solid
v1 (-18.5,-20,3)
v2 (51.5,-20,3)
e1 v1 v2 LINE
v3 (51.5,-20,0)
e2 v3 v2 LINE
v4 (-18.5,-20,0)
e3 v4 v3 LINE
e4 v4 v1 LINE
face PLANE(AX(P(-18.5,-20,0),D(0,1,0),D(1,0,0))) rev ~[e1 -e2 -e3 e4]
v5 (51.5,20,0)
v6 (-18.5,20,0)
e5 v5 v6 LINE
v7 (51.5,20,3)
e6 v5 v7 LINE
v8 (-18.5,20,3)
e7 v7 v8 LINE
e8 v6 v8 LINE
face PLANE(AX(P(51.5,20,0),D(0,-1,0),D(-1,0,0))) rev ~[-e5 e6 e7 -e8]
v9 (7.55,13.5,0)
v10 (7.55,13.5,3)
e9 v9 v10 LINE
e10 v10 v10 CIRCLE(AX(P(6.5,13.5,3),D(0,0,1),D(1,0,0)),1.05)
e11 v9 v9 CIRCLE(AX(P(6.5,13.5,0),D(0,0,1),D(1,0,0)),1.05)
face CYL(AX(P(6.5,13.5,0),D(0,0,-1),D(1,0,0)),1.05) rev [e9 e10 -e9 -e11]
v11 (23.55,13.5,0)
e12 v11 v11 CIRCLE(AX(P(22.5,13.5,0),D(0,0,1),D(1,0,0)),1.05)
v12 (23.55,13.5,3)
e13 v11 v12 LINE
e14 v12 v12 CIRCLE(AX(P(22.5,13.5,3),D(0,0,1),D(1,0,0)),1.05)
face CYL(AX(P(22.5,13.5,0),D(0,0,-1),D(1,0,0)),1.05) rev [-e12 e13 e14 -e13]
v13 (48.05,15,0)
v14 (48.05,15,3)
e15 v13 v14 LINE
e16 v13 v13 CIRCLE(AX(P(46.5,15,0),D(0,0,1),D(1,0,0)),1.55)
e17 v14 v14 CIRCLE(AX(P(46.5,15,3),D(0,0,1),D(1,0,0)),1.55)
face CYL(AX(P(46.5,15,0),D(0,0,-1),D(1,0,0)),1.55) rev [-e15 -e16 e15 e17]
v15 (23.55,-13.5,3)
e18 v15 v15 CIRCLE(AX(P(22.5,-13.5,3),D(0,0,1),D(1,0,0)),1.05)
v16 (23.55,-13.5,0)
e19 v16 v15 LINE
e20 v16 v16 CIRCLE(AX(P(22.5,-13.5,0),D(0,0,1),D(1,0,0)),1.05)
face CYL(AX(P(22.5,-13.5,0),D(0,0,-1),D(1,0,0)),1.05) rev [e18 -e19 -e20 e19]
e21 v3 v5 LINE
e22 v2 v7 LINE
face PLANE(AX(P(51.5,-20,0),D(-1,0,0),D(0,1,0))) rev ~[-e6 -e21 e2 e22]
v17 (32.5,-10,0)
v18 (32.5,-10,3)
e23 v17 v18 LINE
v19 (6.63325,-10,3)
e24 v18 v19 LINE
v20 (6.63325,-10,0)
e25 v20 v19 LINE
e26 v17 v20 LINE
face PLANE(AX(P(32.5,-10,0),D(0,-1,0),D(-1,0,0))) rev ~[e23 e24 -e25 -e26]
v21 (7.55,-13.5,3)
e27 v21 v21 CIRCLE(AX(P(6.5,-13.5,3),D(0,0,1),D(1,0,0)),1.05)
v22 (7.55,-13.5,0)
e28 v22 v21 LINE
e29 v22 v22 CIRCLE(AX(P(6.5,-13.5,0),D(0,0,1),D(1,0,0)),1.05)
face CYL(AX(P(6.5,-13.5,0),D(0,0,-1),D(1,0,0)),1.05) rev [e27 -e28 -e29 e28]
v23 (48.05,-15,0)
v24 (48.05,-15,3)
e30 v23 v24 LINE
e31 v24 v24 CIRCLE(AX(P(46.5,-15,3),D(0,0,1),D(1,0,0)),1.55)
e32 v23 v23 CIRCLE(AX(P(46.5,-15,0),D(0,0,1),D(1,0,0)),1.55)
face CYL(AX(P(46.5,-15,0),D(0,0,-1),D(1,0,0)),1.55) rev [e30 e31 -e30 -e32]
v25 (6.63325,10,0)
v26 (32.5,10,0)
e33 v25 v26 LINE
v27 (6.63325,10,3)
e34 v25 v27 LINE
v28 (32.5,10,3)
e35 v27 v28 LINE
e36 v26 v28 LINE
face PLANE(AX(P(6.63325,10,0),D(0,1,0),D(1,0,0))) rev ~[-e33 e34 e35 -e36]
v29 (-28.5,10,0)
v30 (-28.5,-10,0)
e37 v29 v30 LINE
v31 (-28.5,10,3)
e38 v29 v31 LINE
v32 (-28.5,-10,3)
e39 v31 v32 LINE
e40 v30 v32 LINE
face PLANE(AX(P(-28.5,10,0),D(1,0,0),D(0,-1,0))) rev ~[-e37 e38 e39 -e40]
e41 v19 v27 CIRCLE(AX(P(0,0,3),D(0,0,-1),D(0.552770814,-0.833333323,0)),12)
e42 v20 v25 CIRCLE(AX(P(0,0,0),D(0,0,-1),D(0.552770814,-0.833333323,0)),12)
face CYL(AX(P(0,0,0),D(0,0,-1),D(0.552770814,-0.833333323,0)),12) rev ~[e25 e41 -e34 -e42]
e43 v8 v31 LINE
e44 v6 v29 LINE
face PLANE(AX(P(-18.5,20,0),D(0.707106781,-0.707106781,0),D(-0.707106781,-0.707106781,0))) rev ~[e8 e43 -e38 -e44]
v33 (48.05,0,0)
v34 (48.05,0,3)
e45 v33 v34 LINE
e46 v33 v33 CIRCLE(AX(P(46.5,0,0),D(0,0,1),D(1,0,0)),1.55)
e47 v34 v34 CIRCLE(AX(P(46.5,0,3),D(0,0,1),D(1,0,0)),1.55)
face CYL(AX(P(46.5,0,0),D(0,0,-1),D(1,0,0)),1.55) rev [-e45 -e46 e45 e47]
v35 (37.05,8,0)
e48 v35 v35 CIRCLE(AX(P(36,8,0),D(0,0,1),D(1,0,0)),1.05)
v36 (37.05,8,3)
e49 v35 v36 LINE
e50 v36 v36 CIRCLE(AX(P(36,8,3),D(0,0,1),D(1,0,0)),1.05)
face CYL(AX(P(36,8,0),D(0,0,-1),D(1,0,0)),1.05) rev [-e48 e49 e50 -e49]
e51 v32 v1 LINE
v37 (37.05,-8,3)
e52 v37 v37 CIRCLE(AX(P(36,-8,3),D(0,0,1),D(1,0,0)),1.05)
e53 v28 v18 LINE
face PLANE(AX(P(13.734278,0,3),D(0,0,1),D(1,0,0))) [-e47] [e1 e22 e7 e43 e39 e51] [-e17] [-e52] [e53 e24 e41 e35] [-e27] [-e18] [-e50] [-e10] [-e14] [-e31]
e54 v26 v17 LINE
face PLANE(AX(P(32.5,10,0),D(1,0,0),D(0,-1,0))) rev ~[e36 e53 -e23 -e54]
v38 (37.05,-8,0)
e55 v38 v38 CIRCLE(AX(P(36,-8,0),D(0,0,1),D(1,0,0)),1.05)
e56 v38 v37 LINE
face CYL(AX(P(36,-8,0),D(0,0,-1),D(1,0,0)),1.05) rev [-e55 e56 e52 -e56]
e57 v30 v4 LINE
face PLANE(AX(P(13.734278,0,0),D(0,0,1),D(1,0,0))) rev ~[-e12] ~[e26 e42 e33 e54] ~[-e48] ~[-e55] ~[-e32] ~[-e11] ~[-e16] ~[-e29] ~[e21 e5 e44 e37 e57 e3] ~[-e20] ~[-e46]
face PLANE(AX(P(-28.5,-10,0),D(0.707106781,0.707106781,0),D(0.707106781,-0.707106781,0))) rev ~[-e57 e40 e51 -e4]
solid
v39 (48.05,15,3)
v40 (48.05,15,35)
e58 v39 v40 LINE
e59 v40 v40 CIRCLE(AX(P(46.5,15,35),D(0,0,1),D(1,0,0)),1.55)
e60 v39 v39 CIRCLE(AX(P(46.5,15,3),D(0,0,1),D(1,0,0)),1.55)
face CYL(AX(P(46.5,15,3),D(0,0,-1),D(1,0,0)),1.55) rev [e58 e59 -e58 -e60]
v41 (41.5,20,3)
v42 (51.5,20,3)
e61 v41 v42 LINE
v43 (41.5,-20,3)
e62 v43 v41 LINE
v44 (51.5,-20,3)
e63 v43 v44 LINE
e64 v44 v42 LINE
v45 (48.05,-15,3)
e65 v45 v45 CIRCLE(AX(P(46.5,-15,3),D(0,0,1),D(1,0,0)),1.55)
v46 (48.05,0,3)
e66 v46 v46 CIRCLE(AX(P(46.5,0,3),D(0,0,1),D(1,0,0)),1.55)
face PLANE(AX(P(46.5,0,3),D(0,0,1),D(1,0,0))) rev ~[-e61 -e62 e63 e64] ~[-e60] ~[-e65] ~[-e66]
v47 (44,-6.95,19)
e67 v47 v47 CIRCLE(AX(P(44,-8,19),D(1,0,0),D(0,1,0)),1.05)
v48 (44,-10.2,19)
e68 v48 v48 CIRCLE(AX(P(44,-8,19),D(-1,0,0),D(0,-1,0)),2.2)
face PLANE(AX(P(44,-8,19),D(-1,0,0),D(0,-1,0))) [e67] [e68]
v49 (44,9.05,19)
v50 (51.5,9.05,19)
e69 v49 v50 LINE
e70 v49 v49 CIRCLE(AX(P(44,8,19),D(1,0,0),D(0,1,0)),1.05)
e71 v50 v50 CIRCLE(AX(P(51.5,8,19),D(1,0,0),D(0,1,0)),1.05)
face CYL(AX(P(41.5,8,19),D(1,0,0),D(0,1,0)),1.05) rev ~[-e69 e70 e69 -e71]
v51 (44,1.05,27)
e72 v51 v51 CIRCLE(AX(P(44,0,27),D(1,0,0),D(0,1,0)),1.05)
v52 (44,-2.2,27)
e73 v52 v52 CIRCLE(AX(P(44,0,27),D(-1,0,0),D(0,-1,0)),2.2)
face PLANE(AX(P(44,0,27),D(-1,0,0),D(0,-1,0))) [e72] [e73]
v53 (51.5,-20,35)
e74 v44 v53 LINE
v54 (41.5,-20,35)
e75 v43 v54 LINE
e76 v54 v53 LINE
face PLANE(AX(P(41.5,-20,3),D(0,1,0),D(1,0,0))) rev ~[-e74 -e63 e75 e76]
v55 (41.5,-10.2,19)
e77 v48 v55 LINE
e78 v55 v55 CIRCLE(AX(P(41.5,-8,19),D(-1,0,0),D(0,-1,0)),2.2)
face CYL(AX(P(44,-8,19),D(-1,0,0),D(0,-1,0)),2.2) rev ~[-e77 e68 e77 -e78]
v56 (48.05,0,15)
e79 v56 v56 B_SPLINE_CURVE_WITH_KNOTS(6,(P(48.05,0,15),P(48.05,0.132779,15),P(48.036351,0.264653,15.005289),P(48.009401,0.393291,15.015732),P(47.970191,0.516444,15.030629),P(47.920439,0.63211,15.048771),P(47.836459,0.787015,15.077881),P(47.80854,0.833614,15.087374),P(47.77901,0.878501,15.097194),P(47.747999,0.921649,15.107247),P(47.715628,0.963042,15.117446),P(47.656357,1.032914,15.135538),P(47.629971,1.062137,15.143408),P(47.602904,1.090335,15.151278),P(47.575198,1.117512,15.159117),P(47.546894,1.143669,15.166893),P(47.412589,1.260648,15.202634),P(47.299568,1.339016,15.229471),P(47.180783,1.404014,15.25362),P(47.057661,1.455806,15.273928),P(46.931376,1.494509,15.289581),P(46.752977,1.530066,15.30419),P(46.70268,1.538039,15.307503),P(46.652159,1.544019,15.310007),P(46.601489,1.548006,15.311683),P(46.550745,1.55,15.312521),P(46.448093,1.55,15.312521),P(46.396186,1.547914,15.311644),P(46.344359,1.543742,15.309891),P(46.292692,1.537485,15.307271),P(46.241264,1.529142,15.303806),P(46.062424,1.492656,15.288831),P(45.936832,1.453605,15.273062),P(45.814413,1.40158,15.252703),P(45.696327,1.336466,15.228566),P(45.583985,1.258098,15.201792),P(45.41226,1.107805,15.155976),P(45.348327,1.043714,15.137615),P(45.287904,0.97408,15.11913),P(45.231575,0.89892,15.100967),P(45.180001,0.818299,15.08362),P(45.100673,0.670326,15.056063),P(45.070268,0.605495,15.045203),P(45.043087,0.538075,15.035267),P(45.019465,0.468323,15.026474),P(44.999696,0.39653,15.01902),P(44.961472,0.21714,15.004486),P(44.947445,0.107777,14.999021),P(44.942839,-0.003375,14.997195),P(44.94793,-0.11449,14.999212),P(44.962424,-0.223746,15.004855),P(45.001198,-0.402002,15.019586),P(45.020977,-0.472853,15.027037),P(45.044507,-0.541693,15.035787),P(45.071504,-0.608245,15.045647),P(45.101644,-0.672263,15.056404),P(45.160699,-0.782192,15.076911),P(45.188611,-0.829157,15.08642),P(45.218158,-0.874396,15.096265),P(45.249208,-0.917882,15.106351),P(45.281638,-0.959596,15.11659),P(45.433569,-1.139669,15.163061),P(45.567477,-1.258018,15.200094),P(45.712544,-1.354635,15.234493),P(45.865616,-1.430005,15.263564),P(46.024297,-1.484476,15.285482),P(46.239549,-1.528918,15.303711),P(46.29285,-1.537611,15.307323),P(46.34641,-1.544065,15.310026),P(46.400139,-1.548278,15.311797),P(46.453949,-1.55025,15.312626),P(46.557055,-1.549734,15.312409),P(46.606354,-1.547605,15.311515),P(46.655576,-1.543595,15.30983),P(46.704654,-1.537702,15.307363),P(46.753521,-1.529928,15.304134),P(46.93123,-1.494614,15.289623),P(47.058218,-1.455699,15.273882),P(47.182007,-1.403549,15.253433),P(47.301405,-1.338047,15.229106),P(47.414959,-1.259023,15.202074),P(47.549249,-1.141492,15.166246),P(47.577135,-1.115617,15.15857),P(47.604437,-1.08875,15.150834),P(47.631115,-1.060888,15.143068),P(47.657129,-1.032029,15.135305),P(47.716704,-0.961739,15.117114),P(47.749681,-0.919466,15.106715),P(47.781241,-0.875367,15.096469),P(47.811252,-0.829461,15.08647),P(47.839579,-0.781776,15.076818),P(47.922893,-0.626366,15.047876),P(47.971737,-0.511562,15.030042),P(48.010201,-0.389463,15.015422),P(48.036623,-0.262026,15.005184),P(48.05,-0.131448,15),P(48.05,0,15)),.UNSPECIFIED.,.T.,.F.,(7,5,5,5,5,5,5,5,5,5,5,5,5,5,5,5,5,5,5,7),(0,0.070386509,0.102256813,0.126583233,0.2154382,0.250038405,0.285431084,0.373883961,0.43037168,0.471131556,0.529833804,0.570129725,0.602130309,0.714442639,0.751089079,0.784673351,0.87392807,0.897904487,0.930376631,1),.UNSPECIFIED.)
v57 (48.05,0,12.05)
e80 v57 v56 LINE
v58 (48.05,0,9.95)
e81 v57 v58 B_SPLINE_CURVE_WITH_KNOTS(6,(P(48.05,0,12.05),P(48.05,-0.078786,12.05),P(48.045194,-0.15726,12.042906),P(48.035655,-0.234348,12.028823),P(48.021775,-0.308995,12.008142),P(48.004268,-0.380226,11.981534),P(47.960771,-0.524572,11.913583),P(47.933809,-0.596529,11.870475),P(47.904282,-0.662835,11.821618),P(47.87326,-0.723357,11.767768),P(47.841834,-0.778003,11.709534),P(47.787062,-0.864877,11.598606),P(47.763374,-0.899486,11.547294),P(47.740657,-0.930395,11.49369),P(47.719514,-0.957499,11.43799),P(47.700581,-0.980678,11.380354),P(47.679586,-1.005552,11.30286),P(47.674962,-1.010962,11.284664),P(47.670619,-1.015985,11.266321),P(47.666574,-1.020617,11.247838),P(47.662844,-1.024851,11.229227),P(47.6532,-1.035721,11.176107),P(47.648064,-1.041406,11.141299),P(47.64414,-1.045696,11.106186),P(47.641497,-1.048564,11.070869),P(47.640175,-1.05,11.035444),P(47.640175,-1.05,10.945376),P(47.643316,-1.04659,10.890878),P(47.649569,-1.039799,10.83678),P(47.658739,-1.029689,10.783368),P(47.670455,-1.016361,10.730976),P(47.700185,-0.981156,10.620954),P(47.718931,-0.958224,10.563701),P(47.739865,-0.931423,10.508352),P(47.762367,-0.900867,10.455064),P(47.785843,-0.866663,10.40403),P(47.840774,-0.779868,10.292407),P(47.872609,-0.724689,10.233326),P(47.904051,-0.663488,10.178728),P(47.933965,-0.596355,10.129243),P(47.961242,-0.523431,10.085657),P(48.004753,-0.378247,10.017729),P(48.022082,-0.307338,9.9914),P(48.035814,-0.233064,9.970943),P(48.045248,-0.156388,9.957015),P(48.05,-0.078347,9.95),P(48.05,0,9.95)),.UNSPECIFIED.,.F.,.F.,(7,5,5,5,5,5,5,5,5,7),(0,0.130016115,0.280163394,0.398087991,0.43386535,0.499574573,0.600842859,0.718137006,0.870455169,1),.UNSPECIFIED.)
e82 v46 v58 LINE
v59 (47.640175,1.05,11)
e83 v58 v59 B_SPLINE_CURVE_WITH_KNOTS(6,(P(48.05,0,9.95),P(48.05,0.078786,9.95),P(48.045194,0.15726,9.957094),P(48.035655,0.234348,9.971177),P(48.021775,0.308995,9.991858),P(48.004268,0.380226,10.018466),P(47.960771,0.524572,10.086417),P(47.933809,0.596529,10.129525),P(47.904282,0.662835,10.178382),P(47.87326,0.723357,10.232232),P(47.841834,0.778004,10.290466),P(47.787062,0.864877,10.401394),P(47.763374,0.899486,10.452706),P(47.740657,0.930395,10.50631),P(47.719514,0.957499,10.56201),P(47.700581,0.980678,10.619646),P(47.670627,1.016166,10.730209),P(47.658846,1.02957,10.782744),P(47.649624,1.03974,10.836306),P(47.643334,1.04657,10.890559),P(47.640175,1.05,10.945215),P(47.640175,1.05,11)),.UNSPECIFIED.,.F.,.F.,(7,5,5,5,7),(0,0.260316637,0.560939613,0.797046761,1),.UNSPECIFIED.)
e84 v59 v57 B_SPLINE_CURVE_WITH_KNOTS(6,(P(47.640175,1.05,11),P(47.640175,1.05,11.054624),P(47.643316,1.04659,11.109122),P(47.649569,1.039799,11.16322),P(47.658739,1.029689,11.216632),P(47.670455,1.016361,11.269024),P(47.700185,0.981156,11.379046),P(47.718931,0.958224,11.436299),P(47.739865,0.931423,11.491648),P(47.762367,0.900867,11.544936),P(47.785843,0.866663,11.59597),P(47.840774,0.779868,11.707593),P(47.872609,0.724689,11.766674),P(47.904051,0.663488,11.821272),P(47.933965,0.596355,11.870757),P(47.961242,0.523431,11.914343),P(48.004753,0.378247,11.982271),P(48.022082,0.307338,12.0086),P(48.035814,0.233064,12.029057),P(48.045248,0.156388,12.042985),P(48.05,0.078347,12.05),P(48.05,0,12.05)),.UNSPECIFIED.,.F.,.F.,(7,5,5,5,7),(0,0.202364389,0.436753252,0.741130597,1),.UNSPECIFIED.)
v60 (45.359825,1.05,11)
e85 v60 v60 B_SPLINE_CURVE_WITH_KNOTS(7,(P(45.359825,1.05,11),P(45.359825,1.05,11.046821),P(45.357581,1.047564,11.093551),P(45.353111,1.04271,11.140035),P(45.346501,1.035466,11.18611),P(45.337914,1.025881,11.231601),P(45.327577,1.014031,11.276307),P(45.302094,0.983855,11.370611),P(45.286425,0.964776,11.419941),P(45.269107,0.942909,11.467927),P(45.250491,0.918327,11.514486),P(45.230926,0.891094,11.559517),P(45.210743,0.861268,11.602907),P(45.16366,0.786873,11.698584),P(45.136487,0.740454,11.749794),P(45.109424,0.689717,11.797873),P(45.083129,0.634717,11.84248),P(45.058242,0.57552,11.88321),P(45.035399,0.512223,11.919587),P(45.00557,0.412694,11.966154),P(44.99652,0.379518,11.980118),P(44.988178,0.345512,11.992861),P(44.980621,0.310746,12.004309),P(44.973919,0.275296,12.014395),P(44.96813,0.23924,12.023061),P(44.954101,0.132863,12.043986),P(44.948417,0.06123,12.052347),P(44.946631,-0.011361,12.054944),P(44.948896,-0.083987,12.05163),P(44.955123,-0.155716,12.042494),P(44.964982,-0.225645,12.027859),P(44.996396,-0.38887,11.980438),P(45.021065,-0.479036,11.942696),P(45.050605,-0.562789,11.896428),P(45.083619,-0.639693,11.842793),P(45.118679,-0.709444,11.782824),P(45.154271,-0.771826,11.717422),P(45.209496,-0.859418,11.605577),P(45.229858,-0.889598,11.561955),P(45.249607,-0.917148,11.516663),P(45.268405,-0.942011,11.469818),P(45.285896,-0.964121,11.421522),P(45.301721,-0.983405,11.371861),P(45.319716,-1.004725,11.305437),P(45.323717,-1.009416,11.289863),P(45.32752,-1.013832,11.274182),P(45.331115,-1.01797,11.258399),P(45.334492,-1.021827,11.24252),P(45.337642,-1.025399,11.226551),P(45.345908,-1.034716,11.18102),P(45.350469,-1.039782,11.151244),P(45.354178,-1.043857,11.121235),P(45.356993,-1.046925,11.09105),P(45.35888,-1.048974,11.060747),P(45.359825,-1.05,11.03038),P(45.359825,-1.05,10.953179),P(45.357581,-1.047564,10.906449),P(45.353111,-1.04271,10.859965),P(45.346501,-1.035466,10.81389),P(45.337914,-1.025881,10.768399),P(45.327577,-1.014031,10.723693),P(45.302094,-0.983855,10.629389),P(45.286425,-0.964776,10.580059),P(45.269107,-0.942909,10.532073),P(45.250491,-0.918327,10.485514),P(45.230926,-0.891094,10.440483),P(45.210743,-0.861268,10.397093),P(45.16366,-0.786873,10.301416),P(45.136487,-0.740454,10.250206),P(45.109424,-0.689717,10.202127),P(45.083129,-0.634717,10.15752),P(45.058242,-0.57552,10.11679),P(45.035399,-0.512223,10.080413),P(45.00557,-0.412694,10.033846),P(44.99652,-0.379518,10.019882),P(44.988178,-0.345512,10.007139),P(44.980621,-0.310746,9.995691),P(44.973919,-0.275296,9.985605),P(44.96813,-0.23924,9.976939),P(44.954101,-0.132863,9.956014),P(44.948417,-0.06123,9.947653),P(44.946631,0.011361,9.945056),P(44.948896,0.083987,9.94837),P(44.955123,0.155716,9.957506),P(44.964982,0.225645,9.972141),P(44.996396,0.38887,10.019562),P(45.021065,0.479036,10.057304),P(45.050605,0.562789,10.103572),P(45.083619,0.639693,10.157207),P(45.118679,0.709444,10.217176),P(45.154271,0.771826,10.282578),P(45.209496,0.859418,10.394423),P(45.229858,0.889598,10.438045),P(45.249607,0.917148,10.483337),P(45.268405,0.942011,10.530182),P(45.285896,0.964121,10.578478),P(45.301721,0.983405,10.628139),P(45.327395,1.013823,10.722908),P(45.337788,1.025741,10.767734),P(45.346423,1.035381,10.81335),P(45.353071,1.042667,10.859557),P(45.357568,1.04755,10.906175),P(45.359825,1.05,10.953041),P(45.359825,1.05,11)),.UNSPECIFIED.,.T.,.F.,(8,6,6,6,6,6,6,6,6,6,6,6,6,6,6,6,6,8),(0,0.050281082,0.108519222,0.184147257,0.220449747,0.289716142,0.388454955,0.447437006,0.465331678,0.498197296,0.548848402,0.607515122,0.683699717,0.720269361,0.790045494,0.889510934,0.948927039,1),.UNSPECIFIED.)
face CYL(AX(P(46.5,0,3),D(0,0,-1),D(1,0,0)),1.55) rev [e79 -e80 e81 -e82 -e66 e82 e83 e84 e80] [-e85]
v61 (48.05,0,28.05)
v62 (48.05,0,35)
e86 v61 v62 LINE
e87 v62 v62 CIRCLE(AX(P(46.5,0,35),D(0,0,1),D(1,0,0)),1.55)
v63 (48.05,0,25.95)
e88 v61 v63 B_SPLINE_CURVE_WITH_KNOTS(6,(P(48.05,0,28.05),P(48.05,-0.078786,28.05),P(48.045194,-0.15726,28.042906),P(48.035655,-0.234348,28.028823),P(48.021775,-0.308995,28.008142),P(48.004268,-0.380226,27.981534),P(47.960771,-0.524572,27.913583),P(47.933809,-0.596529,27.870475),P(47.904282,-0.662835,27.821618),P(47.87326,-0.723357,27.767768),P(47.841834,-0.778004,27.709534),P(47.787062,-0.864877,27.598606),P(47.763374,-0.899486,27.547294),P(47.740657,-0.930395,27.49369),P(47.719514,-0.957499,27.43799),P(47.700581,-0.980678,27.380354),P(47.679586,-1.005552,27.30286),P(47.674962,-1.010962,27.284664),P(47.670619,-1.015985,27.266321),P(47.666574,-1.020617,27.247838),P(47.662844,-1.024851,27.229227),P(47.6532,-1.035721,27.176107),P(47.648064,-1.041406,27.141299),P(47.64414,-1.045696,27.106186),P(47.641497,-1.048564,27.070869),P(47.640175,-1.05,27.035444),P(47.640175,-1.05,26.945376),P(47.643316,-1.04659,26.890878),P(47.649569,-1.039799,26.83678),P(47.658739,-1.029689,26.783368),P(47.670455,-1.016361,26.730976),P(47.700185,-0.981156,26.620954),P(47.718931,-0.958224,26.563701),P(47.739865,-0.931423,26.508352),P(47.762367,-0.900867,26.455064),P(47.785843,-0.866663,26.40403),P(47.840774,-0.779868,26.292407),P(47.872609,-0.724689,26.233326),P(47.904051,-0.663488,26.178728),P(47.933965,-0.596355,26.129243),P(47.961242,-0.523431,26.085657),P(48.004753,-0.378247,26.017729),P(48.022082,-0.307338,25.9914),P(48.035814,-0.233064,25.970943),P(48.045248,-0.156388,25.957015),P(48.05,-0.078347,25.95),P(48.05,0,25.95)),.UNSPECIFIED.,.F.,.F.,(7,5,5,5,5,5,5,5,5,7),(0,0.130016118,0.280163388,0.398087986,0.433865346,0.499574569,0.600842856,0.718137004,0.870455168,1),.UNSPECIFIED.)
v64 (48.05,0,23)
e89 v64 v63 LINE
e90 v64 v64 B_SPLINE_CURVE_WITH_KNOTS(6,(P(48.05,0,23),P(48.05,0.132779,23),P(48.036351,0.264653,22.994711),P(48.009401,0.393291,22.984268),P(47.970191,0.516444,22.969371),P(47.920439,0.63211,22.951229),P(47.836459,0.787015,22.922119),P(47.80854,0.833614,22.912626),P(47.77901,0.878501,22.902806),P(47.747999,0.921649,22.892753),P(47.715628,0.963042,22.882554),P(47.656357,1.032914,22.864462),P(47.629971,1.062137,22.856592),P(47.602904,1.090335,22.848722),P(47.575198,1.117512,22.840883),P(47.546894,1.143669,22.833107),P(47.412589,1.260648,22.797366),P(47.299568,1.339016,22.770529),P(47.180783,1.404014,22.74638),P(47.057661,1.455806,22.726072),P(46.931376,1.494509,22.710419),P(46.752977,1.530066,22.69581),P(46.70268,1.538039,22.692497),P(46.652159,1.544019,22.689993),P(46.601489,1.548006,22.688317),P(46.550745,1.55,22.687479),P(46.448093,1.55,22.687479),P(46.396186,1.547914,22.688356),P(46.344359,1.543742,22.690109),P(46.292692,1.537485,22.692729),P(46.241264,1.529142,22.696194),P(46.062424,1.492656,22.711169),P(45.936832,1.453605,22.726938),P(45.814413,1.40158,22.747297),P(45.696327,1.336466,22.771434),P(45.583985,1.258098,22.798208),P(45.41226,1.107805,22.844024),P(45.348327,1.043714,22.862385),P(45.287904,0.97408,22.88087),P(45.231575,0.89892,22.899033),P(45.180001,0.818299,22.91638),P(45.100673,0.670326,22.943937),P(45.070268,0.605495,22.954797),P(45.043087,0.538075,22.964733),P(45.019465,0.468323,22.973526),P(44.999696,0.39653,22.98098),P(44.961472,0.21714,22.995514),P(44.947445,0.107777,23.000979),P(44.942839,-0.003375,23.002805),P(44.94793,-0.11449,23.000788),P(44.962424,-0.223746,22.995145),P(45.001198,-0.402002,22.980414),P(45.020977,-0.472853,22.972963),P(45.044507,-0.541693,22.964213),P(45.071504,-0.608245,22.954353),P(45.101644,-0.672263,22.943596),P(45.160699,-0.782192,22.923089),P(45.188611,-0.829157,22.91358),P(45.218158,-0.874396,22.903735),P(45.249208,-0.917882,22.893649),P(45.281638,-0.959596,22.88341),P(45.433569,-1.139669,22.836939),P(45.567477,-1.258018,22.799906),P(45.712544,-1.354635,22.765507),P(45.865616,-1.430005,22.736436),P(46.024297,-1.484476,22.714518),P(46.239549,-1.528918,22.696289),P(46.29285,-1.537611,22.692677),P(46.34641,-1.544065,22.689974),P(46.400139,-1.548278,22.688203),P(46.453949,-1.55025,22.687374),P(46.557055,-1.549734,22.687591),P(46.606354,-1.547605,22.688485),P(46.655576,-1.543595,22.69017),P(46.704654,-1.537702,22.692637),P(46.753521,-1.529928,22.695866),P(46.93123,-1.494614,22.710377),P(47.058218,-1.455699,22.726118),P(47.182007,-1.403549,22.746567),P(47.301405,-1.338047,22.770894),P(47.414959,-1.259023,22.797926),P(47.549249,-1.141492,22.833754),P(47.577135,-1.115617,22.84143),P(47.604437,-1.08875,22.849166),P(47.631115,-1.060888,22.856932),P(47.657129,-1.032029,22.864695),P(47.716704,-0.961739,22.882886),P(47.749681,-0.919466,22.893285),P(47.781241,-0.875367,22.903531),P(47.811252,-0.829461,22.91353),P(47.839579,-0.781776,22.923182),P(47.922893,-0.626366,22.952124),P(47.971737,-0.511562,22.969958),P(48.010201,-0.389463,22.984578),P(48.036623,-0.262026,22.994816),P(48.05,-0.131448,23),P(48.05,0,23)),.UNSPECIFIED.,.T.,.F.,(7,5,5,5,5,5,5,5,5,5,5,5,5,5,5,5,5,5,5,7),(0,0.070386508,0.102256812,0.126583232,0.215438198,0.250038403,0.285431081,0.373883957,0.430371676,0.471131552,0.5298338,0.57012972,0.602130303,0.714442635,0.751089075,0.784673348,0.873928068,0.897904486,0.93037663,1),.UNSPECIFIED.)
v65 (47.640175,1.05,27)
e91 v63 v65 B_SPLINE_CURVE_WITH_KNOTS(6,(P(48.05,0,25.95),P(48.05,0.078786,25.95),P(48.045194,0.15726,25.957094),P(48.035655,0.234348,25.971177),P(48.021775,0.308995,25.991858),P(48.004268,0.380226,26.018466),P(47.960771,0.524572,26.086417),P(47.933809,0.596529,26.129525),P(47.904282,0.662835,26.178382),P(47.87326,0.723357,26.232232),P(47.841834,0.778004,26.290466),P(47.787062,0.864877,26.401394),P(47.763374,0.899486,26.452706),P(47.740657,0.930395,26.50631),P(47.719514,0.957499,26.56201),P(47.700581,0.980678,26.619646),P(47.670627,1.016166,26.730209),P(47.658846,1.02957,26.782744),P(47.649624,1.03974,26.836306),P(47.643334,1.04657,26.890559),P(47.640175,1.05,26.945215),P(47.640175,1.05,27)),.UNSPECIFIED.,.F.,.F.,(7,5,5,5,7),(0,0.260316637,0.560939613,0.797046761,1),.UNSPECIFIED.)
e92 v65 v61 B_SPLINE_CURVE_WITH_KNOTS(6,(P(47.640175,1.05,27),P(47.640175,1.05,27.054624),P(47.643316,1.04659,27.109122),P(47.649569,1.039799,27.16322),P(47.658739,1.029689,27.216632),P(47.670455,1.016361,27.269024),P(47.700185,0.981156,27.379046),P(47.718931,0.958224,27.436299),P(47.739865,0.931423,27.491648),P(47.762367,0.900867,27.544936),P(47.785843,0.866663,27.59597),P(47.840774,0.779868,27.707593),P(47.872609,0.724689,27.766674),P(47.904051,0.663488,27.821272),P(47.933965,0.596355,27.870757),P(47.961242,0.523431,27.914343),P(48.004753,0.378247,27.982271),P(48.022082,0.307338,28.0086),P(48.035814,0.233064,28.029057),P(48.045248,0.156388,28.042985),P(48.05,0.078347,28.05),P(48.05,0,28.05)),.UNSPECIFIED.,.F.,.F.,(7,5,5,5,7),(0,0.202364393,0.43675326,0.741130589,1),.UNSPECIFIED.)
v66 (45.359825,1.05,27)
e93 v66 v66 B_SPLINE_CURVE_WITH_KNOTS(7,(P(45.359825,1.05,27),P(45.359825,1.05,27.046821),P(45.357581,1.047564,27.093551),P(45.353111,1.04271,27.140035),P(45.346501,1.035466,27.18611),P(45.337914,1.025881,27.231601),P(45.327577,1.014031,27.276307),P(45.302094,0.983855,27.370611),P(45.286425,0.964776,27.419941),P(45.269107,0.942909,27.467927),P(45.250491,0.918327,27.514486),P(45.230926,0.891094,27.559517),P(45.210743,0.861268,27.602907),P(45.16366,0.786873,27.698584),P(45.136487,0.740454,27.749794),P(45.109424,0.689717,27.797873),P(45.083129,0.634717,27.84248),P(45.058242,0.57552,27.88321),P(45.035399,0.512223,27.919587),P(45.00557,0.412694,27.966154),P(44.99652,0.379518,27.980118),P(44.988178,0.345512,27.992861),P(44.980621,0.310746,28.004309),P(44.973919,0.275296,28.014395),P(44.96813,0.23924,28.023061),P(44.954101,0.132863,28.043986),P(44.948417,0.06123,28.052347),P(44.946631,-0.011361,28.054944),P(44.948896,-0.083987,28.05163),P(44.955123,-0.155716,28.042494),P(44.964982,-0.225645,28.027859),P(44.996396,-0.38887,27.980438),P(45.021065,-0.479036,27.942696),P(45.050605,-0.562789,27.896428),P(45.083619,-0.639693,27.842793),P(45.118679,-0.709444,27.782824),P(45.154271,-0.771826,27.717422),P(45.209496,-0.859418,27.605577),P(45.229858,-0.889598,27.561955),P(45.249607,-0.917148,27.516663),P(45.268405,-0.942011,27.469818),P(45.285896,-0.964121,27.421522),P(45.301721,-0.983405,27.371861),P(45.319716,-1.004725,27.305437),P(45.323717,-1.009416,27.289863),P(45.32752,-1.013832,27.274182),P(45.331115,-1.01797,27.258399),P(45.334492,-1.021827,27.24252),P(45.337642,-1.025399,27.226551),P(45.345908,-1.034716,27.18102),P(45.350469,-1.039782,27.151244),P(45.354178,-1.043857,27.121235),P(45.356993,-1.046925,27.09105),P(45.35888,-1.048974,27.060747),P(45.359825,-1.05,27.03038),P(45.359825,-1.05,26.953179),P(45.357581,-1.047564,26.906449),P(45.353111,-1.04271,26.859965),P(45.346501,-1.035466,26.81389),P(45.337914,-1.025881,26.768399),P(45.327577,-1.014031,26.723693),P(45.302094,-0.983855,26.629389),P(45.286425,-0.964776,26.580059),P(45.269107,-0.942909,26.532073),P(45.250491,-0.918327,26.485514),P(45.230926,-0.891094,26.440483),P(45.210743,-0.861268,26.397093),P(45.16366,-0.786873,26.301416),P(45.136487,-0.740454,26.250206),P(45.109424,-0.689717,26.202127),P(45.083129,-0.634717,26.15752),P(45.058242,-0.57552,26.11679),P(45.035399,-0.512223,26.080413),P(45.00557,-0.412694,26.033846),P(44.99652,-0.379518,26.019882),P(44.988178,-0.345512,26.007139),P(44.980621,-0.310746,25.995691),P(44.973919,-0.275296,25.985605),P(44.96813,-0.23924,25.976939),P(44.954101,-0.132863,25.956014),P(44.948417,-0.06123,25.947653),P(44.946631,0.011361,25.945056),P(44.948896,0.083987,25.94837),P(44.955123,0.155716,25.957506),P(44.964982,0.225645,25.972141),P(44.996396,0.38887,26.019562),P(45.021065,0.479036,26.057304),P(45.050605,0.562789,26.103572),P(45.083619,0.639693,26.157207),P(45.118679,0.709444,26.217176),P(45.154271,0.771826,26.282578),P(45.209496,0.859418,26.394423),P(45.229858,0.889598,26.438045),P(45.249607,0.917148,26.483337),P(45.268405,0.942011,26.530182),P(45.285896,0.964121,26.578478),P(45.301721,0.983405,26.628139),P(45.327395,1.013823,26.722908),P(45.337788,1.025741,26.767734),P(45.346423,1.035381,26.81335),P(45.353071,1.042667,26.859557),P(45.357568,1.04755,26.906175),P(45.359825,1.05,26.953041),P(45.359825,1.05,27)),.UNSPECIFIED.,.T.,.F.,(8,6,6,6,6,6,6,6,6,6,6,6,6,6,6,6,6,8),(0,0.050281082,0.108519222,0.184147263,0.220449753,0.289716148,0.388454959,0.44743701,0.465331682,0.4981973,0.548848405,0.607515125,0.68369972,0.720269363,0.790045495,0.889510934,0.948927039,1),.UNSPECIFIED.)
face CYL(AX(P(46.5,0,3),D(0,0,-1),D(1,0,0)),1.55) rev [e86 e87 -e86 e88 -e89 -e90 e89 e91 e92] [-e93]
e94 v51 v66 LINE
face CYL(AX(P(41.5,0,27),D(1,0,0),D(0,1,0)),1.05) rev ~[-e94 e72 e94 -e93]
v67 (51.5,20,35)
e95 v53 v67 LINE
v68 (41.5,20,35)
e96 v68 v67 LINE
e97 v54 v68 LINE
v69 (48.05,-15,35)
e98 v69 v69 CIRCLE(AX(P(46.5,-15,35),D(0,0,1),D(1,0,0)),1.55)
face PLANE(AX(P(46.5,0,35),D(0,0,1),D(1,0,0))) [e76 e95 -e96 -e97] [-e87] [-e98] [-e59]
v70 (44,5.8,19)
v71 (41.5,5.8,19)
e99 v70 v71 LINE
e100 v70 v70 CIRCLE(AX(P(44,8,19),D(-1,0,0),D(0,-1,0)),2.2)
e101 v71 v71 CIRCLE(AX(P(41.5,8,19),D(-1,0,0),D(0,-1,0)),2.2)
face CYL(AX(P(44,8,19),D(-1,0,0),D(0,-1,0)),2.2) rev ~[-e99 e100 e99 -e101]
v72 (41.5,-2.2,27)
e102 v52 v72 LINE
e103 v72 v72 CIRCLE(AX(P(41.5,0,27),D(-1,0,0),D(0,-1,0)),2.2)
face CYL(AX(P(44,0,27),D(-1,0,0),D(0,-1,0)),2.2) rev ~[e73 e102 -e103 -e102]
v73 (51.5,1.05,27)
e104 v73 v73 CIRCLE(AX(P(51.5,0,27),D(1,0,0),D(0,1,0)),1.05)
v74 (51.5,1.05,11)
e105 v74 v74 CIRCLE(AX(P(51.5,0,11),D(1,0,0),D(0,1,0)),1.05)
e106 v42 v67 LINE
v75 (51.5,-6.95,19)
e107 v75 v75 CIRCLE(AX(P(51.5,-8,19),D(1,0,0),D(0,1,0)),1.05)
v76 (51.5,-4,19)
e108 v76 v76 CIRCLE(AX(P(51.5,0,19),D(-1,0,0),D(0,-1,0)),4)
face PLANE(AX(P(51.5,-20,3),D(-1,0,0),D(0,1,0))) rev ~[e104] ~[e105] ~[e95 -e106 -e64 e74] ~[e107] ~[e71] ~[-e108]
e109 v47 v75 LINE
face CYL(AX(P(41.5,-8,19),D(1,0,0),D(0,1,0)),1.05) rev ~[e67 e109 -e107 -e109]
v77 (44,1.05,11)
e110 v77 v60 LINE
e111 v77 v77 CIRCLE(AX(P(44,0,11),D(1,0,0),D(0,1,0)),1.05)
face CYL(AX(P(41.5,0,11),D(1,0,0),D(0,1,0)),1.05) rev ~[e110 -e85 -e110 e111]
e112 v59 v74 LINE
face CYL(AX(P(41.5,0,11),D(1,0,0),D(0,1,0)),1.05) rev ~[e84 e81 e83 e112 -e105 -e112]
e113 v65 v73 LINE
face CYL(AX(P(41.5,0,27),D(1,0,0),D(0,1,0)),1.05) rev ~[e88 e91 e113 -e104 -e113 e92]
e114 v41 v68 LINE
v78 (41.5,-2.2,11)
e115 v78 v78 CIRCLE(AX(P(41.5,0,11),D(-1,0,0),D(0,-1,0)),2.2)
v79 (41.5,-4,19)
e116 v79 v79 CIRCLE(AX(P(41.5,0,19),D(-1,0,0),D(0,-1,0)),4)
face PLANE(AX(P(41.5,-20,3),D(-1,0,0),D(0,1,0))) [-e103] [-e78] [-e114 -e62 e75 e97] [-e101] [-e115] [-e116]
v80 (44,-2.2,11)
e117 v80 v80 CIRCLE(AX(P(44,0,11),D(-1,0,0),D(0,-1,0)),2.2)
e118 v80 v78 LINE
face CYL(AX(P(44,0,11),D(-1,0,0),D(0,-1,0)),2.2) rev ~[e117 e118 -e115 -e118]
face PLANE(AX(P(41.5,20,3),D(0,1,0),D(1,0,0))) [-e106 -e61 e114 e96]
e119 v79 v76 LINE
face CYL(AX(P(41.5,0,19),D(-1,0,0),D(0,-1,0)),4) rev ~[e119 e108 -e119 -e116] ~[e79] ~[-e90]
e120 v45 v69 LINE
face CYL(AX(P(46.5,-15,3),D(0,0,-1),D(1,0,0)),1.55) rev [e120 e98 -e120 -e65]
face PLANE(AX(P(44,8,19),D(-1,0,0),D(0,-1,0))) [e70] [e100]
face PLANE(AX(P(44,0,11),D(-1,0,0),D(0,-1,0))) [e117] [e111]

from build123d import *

# Parameters (mm, degrees)
F0_R           = 1.05
F0_R_2         = 1.55
F1_DEPTH       = 3
F2_W           = 10
F2_H           = 40
F2_R           = 1.55
F3_DEPTH       = 32
F4_R           = 4
F5_DEPTH       = 25
F6_D           = 2.1
F6_CBORE_D     = 4.4
F6_CBORE_DEPTH = 2.5


with BuildPart() as f1:
    # F0 (on Top) → F1 (new body)
    with BuildSketch(Plane.XY):
        Polygon((51.5, -20), (51.5, 20), (-18.5, 20), (-28.5, 10), (-28.5, -10), (-18.5, -20), align=None)
        with Locations((6.5, -13.5)):
            Circle(F0_R, mode=Mode.SUBTRACT)
        with Locations((22.5, -13.5)):
            Circle(F0_R, mode=Mode.SUBTRACT)
        with Locations((46.5, -15)):
            Circle(F0_R_2, mode=Mode.SUBTRACT)
        with Locations((36, -8)):
            Circle(F0_R, mode=Mode.SUBTRACT)
        with BuildLine():
            ThreePointArc((6.63325, -10), (-12, 0), (6.63325, 10))
            Line((6.63325, 10), (32.5, 10))
            Line((32.5, 10), (32.5, -10))
            Line((32.5, -10), (6.63325, -10))
        make_face(mode=Mode.SUBTRACT)
        with Locations((6.5, 13.5)):
            Circle(F0_R, mode=Mode.SUBTRACT)
        with Locations((46.5, 0)):
            Circle(F0_R_2, mode=Mode.SUBTRACT)
        with Locations((36, 8)):
            Circle(F0_R, mode=Mode.SUBTRACT)
        with Locations((22.5, 13.5)):
            Circle(F0_R, mode=Mode.SUBTRACT)
        with Locations((46.5, 15)):
            Circle(F0_R_2, mode=Mode.SUBTRACT)
    extrude(amount=F1_DEPTH)


with BuildPart() as f3:
    # F2 (on face) → F3 (new body)
    with BuildSketch(Plane.XY.offset(3)):
        with Locations((46.5, 0)):
            Rectangle(F2_W, F2_H)
        with Locations((46.5, -15)):
            Circle(F2_R, mode=Mode.SUBTRACT)
        with Locations((46.5, 0)):
            Circle(F2_R, mode=Mode.SUBTRACT)
        with Locations((46.5, 15)):
            Circle(F2_R, mode=Mode.SUBTRACT)
    extrude(amount=F3_DEPTH)

    # F4 (on face) → F5 (cut)
    with BuildSketch(Plane(origin=(41.5, 0, 0), x_dir=(0, -1, 0), z_dir=(-1, 0, 0))):
        with Locations((0, 19)):
            Circle(F4_R)
    extrude(amount=-F5_DEPTH, mode=Mode.SUBTRACT)

    # F6 (through all)
    with Locations(Plane(origin=(41.5, 0, 0), x_dir=(0, -1, 0), z_dir=(-1, 0, 0))):
        with Locations((0, 27), (8, 19), (0, 11), (-8, 19)):
            CounterBoreHole(F6_D / 2, F6_CBORE_D / 2, F6_CBORE_DEPTH)


solid = Compound([f1.part, f3.part])
